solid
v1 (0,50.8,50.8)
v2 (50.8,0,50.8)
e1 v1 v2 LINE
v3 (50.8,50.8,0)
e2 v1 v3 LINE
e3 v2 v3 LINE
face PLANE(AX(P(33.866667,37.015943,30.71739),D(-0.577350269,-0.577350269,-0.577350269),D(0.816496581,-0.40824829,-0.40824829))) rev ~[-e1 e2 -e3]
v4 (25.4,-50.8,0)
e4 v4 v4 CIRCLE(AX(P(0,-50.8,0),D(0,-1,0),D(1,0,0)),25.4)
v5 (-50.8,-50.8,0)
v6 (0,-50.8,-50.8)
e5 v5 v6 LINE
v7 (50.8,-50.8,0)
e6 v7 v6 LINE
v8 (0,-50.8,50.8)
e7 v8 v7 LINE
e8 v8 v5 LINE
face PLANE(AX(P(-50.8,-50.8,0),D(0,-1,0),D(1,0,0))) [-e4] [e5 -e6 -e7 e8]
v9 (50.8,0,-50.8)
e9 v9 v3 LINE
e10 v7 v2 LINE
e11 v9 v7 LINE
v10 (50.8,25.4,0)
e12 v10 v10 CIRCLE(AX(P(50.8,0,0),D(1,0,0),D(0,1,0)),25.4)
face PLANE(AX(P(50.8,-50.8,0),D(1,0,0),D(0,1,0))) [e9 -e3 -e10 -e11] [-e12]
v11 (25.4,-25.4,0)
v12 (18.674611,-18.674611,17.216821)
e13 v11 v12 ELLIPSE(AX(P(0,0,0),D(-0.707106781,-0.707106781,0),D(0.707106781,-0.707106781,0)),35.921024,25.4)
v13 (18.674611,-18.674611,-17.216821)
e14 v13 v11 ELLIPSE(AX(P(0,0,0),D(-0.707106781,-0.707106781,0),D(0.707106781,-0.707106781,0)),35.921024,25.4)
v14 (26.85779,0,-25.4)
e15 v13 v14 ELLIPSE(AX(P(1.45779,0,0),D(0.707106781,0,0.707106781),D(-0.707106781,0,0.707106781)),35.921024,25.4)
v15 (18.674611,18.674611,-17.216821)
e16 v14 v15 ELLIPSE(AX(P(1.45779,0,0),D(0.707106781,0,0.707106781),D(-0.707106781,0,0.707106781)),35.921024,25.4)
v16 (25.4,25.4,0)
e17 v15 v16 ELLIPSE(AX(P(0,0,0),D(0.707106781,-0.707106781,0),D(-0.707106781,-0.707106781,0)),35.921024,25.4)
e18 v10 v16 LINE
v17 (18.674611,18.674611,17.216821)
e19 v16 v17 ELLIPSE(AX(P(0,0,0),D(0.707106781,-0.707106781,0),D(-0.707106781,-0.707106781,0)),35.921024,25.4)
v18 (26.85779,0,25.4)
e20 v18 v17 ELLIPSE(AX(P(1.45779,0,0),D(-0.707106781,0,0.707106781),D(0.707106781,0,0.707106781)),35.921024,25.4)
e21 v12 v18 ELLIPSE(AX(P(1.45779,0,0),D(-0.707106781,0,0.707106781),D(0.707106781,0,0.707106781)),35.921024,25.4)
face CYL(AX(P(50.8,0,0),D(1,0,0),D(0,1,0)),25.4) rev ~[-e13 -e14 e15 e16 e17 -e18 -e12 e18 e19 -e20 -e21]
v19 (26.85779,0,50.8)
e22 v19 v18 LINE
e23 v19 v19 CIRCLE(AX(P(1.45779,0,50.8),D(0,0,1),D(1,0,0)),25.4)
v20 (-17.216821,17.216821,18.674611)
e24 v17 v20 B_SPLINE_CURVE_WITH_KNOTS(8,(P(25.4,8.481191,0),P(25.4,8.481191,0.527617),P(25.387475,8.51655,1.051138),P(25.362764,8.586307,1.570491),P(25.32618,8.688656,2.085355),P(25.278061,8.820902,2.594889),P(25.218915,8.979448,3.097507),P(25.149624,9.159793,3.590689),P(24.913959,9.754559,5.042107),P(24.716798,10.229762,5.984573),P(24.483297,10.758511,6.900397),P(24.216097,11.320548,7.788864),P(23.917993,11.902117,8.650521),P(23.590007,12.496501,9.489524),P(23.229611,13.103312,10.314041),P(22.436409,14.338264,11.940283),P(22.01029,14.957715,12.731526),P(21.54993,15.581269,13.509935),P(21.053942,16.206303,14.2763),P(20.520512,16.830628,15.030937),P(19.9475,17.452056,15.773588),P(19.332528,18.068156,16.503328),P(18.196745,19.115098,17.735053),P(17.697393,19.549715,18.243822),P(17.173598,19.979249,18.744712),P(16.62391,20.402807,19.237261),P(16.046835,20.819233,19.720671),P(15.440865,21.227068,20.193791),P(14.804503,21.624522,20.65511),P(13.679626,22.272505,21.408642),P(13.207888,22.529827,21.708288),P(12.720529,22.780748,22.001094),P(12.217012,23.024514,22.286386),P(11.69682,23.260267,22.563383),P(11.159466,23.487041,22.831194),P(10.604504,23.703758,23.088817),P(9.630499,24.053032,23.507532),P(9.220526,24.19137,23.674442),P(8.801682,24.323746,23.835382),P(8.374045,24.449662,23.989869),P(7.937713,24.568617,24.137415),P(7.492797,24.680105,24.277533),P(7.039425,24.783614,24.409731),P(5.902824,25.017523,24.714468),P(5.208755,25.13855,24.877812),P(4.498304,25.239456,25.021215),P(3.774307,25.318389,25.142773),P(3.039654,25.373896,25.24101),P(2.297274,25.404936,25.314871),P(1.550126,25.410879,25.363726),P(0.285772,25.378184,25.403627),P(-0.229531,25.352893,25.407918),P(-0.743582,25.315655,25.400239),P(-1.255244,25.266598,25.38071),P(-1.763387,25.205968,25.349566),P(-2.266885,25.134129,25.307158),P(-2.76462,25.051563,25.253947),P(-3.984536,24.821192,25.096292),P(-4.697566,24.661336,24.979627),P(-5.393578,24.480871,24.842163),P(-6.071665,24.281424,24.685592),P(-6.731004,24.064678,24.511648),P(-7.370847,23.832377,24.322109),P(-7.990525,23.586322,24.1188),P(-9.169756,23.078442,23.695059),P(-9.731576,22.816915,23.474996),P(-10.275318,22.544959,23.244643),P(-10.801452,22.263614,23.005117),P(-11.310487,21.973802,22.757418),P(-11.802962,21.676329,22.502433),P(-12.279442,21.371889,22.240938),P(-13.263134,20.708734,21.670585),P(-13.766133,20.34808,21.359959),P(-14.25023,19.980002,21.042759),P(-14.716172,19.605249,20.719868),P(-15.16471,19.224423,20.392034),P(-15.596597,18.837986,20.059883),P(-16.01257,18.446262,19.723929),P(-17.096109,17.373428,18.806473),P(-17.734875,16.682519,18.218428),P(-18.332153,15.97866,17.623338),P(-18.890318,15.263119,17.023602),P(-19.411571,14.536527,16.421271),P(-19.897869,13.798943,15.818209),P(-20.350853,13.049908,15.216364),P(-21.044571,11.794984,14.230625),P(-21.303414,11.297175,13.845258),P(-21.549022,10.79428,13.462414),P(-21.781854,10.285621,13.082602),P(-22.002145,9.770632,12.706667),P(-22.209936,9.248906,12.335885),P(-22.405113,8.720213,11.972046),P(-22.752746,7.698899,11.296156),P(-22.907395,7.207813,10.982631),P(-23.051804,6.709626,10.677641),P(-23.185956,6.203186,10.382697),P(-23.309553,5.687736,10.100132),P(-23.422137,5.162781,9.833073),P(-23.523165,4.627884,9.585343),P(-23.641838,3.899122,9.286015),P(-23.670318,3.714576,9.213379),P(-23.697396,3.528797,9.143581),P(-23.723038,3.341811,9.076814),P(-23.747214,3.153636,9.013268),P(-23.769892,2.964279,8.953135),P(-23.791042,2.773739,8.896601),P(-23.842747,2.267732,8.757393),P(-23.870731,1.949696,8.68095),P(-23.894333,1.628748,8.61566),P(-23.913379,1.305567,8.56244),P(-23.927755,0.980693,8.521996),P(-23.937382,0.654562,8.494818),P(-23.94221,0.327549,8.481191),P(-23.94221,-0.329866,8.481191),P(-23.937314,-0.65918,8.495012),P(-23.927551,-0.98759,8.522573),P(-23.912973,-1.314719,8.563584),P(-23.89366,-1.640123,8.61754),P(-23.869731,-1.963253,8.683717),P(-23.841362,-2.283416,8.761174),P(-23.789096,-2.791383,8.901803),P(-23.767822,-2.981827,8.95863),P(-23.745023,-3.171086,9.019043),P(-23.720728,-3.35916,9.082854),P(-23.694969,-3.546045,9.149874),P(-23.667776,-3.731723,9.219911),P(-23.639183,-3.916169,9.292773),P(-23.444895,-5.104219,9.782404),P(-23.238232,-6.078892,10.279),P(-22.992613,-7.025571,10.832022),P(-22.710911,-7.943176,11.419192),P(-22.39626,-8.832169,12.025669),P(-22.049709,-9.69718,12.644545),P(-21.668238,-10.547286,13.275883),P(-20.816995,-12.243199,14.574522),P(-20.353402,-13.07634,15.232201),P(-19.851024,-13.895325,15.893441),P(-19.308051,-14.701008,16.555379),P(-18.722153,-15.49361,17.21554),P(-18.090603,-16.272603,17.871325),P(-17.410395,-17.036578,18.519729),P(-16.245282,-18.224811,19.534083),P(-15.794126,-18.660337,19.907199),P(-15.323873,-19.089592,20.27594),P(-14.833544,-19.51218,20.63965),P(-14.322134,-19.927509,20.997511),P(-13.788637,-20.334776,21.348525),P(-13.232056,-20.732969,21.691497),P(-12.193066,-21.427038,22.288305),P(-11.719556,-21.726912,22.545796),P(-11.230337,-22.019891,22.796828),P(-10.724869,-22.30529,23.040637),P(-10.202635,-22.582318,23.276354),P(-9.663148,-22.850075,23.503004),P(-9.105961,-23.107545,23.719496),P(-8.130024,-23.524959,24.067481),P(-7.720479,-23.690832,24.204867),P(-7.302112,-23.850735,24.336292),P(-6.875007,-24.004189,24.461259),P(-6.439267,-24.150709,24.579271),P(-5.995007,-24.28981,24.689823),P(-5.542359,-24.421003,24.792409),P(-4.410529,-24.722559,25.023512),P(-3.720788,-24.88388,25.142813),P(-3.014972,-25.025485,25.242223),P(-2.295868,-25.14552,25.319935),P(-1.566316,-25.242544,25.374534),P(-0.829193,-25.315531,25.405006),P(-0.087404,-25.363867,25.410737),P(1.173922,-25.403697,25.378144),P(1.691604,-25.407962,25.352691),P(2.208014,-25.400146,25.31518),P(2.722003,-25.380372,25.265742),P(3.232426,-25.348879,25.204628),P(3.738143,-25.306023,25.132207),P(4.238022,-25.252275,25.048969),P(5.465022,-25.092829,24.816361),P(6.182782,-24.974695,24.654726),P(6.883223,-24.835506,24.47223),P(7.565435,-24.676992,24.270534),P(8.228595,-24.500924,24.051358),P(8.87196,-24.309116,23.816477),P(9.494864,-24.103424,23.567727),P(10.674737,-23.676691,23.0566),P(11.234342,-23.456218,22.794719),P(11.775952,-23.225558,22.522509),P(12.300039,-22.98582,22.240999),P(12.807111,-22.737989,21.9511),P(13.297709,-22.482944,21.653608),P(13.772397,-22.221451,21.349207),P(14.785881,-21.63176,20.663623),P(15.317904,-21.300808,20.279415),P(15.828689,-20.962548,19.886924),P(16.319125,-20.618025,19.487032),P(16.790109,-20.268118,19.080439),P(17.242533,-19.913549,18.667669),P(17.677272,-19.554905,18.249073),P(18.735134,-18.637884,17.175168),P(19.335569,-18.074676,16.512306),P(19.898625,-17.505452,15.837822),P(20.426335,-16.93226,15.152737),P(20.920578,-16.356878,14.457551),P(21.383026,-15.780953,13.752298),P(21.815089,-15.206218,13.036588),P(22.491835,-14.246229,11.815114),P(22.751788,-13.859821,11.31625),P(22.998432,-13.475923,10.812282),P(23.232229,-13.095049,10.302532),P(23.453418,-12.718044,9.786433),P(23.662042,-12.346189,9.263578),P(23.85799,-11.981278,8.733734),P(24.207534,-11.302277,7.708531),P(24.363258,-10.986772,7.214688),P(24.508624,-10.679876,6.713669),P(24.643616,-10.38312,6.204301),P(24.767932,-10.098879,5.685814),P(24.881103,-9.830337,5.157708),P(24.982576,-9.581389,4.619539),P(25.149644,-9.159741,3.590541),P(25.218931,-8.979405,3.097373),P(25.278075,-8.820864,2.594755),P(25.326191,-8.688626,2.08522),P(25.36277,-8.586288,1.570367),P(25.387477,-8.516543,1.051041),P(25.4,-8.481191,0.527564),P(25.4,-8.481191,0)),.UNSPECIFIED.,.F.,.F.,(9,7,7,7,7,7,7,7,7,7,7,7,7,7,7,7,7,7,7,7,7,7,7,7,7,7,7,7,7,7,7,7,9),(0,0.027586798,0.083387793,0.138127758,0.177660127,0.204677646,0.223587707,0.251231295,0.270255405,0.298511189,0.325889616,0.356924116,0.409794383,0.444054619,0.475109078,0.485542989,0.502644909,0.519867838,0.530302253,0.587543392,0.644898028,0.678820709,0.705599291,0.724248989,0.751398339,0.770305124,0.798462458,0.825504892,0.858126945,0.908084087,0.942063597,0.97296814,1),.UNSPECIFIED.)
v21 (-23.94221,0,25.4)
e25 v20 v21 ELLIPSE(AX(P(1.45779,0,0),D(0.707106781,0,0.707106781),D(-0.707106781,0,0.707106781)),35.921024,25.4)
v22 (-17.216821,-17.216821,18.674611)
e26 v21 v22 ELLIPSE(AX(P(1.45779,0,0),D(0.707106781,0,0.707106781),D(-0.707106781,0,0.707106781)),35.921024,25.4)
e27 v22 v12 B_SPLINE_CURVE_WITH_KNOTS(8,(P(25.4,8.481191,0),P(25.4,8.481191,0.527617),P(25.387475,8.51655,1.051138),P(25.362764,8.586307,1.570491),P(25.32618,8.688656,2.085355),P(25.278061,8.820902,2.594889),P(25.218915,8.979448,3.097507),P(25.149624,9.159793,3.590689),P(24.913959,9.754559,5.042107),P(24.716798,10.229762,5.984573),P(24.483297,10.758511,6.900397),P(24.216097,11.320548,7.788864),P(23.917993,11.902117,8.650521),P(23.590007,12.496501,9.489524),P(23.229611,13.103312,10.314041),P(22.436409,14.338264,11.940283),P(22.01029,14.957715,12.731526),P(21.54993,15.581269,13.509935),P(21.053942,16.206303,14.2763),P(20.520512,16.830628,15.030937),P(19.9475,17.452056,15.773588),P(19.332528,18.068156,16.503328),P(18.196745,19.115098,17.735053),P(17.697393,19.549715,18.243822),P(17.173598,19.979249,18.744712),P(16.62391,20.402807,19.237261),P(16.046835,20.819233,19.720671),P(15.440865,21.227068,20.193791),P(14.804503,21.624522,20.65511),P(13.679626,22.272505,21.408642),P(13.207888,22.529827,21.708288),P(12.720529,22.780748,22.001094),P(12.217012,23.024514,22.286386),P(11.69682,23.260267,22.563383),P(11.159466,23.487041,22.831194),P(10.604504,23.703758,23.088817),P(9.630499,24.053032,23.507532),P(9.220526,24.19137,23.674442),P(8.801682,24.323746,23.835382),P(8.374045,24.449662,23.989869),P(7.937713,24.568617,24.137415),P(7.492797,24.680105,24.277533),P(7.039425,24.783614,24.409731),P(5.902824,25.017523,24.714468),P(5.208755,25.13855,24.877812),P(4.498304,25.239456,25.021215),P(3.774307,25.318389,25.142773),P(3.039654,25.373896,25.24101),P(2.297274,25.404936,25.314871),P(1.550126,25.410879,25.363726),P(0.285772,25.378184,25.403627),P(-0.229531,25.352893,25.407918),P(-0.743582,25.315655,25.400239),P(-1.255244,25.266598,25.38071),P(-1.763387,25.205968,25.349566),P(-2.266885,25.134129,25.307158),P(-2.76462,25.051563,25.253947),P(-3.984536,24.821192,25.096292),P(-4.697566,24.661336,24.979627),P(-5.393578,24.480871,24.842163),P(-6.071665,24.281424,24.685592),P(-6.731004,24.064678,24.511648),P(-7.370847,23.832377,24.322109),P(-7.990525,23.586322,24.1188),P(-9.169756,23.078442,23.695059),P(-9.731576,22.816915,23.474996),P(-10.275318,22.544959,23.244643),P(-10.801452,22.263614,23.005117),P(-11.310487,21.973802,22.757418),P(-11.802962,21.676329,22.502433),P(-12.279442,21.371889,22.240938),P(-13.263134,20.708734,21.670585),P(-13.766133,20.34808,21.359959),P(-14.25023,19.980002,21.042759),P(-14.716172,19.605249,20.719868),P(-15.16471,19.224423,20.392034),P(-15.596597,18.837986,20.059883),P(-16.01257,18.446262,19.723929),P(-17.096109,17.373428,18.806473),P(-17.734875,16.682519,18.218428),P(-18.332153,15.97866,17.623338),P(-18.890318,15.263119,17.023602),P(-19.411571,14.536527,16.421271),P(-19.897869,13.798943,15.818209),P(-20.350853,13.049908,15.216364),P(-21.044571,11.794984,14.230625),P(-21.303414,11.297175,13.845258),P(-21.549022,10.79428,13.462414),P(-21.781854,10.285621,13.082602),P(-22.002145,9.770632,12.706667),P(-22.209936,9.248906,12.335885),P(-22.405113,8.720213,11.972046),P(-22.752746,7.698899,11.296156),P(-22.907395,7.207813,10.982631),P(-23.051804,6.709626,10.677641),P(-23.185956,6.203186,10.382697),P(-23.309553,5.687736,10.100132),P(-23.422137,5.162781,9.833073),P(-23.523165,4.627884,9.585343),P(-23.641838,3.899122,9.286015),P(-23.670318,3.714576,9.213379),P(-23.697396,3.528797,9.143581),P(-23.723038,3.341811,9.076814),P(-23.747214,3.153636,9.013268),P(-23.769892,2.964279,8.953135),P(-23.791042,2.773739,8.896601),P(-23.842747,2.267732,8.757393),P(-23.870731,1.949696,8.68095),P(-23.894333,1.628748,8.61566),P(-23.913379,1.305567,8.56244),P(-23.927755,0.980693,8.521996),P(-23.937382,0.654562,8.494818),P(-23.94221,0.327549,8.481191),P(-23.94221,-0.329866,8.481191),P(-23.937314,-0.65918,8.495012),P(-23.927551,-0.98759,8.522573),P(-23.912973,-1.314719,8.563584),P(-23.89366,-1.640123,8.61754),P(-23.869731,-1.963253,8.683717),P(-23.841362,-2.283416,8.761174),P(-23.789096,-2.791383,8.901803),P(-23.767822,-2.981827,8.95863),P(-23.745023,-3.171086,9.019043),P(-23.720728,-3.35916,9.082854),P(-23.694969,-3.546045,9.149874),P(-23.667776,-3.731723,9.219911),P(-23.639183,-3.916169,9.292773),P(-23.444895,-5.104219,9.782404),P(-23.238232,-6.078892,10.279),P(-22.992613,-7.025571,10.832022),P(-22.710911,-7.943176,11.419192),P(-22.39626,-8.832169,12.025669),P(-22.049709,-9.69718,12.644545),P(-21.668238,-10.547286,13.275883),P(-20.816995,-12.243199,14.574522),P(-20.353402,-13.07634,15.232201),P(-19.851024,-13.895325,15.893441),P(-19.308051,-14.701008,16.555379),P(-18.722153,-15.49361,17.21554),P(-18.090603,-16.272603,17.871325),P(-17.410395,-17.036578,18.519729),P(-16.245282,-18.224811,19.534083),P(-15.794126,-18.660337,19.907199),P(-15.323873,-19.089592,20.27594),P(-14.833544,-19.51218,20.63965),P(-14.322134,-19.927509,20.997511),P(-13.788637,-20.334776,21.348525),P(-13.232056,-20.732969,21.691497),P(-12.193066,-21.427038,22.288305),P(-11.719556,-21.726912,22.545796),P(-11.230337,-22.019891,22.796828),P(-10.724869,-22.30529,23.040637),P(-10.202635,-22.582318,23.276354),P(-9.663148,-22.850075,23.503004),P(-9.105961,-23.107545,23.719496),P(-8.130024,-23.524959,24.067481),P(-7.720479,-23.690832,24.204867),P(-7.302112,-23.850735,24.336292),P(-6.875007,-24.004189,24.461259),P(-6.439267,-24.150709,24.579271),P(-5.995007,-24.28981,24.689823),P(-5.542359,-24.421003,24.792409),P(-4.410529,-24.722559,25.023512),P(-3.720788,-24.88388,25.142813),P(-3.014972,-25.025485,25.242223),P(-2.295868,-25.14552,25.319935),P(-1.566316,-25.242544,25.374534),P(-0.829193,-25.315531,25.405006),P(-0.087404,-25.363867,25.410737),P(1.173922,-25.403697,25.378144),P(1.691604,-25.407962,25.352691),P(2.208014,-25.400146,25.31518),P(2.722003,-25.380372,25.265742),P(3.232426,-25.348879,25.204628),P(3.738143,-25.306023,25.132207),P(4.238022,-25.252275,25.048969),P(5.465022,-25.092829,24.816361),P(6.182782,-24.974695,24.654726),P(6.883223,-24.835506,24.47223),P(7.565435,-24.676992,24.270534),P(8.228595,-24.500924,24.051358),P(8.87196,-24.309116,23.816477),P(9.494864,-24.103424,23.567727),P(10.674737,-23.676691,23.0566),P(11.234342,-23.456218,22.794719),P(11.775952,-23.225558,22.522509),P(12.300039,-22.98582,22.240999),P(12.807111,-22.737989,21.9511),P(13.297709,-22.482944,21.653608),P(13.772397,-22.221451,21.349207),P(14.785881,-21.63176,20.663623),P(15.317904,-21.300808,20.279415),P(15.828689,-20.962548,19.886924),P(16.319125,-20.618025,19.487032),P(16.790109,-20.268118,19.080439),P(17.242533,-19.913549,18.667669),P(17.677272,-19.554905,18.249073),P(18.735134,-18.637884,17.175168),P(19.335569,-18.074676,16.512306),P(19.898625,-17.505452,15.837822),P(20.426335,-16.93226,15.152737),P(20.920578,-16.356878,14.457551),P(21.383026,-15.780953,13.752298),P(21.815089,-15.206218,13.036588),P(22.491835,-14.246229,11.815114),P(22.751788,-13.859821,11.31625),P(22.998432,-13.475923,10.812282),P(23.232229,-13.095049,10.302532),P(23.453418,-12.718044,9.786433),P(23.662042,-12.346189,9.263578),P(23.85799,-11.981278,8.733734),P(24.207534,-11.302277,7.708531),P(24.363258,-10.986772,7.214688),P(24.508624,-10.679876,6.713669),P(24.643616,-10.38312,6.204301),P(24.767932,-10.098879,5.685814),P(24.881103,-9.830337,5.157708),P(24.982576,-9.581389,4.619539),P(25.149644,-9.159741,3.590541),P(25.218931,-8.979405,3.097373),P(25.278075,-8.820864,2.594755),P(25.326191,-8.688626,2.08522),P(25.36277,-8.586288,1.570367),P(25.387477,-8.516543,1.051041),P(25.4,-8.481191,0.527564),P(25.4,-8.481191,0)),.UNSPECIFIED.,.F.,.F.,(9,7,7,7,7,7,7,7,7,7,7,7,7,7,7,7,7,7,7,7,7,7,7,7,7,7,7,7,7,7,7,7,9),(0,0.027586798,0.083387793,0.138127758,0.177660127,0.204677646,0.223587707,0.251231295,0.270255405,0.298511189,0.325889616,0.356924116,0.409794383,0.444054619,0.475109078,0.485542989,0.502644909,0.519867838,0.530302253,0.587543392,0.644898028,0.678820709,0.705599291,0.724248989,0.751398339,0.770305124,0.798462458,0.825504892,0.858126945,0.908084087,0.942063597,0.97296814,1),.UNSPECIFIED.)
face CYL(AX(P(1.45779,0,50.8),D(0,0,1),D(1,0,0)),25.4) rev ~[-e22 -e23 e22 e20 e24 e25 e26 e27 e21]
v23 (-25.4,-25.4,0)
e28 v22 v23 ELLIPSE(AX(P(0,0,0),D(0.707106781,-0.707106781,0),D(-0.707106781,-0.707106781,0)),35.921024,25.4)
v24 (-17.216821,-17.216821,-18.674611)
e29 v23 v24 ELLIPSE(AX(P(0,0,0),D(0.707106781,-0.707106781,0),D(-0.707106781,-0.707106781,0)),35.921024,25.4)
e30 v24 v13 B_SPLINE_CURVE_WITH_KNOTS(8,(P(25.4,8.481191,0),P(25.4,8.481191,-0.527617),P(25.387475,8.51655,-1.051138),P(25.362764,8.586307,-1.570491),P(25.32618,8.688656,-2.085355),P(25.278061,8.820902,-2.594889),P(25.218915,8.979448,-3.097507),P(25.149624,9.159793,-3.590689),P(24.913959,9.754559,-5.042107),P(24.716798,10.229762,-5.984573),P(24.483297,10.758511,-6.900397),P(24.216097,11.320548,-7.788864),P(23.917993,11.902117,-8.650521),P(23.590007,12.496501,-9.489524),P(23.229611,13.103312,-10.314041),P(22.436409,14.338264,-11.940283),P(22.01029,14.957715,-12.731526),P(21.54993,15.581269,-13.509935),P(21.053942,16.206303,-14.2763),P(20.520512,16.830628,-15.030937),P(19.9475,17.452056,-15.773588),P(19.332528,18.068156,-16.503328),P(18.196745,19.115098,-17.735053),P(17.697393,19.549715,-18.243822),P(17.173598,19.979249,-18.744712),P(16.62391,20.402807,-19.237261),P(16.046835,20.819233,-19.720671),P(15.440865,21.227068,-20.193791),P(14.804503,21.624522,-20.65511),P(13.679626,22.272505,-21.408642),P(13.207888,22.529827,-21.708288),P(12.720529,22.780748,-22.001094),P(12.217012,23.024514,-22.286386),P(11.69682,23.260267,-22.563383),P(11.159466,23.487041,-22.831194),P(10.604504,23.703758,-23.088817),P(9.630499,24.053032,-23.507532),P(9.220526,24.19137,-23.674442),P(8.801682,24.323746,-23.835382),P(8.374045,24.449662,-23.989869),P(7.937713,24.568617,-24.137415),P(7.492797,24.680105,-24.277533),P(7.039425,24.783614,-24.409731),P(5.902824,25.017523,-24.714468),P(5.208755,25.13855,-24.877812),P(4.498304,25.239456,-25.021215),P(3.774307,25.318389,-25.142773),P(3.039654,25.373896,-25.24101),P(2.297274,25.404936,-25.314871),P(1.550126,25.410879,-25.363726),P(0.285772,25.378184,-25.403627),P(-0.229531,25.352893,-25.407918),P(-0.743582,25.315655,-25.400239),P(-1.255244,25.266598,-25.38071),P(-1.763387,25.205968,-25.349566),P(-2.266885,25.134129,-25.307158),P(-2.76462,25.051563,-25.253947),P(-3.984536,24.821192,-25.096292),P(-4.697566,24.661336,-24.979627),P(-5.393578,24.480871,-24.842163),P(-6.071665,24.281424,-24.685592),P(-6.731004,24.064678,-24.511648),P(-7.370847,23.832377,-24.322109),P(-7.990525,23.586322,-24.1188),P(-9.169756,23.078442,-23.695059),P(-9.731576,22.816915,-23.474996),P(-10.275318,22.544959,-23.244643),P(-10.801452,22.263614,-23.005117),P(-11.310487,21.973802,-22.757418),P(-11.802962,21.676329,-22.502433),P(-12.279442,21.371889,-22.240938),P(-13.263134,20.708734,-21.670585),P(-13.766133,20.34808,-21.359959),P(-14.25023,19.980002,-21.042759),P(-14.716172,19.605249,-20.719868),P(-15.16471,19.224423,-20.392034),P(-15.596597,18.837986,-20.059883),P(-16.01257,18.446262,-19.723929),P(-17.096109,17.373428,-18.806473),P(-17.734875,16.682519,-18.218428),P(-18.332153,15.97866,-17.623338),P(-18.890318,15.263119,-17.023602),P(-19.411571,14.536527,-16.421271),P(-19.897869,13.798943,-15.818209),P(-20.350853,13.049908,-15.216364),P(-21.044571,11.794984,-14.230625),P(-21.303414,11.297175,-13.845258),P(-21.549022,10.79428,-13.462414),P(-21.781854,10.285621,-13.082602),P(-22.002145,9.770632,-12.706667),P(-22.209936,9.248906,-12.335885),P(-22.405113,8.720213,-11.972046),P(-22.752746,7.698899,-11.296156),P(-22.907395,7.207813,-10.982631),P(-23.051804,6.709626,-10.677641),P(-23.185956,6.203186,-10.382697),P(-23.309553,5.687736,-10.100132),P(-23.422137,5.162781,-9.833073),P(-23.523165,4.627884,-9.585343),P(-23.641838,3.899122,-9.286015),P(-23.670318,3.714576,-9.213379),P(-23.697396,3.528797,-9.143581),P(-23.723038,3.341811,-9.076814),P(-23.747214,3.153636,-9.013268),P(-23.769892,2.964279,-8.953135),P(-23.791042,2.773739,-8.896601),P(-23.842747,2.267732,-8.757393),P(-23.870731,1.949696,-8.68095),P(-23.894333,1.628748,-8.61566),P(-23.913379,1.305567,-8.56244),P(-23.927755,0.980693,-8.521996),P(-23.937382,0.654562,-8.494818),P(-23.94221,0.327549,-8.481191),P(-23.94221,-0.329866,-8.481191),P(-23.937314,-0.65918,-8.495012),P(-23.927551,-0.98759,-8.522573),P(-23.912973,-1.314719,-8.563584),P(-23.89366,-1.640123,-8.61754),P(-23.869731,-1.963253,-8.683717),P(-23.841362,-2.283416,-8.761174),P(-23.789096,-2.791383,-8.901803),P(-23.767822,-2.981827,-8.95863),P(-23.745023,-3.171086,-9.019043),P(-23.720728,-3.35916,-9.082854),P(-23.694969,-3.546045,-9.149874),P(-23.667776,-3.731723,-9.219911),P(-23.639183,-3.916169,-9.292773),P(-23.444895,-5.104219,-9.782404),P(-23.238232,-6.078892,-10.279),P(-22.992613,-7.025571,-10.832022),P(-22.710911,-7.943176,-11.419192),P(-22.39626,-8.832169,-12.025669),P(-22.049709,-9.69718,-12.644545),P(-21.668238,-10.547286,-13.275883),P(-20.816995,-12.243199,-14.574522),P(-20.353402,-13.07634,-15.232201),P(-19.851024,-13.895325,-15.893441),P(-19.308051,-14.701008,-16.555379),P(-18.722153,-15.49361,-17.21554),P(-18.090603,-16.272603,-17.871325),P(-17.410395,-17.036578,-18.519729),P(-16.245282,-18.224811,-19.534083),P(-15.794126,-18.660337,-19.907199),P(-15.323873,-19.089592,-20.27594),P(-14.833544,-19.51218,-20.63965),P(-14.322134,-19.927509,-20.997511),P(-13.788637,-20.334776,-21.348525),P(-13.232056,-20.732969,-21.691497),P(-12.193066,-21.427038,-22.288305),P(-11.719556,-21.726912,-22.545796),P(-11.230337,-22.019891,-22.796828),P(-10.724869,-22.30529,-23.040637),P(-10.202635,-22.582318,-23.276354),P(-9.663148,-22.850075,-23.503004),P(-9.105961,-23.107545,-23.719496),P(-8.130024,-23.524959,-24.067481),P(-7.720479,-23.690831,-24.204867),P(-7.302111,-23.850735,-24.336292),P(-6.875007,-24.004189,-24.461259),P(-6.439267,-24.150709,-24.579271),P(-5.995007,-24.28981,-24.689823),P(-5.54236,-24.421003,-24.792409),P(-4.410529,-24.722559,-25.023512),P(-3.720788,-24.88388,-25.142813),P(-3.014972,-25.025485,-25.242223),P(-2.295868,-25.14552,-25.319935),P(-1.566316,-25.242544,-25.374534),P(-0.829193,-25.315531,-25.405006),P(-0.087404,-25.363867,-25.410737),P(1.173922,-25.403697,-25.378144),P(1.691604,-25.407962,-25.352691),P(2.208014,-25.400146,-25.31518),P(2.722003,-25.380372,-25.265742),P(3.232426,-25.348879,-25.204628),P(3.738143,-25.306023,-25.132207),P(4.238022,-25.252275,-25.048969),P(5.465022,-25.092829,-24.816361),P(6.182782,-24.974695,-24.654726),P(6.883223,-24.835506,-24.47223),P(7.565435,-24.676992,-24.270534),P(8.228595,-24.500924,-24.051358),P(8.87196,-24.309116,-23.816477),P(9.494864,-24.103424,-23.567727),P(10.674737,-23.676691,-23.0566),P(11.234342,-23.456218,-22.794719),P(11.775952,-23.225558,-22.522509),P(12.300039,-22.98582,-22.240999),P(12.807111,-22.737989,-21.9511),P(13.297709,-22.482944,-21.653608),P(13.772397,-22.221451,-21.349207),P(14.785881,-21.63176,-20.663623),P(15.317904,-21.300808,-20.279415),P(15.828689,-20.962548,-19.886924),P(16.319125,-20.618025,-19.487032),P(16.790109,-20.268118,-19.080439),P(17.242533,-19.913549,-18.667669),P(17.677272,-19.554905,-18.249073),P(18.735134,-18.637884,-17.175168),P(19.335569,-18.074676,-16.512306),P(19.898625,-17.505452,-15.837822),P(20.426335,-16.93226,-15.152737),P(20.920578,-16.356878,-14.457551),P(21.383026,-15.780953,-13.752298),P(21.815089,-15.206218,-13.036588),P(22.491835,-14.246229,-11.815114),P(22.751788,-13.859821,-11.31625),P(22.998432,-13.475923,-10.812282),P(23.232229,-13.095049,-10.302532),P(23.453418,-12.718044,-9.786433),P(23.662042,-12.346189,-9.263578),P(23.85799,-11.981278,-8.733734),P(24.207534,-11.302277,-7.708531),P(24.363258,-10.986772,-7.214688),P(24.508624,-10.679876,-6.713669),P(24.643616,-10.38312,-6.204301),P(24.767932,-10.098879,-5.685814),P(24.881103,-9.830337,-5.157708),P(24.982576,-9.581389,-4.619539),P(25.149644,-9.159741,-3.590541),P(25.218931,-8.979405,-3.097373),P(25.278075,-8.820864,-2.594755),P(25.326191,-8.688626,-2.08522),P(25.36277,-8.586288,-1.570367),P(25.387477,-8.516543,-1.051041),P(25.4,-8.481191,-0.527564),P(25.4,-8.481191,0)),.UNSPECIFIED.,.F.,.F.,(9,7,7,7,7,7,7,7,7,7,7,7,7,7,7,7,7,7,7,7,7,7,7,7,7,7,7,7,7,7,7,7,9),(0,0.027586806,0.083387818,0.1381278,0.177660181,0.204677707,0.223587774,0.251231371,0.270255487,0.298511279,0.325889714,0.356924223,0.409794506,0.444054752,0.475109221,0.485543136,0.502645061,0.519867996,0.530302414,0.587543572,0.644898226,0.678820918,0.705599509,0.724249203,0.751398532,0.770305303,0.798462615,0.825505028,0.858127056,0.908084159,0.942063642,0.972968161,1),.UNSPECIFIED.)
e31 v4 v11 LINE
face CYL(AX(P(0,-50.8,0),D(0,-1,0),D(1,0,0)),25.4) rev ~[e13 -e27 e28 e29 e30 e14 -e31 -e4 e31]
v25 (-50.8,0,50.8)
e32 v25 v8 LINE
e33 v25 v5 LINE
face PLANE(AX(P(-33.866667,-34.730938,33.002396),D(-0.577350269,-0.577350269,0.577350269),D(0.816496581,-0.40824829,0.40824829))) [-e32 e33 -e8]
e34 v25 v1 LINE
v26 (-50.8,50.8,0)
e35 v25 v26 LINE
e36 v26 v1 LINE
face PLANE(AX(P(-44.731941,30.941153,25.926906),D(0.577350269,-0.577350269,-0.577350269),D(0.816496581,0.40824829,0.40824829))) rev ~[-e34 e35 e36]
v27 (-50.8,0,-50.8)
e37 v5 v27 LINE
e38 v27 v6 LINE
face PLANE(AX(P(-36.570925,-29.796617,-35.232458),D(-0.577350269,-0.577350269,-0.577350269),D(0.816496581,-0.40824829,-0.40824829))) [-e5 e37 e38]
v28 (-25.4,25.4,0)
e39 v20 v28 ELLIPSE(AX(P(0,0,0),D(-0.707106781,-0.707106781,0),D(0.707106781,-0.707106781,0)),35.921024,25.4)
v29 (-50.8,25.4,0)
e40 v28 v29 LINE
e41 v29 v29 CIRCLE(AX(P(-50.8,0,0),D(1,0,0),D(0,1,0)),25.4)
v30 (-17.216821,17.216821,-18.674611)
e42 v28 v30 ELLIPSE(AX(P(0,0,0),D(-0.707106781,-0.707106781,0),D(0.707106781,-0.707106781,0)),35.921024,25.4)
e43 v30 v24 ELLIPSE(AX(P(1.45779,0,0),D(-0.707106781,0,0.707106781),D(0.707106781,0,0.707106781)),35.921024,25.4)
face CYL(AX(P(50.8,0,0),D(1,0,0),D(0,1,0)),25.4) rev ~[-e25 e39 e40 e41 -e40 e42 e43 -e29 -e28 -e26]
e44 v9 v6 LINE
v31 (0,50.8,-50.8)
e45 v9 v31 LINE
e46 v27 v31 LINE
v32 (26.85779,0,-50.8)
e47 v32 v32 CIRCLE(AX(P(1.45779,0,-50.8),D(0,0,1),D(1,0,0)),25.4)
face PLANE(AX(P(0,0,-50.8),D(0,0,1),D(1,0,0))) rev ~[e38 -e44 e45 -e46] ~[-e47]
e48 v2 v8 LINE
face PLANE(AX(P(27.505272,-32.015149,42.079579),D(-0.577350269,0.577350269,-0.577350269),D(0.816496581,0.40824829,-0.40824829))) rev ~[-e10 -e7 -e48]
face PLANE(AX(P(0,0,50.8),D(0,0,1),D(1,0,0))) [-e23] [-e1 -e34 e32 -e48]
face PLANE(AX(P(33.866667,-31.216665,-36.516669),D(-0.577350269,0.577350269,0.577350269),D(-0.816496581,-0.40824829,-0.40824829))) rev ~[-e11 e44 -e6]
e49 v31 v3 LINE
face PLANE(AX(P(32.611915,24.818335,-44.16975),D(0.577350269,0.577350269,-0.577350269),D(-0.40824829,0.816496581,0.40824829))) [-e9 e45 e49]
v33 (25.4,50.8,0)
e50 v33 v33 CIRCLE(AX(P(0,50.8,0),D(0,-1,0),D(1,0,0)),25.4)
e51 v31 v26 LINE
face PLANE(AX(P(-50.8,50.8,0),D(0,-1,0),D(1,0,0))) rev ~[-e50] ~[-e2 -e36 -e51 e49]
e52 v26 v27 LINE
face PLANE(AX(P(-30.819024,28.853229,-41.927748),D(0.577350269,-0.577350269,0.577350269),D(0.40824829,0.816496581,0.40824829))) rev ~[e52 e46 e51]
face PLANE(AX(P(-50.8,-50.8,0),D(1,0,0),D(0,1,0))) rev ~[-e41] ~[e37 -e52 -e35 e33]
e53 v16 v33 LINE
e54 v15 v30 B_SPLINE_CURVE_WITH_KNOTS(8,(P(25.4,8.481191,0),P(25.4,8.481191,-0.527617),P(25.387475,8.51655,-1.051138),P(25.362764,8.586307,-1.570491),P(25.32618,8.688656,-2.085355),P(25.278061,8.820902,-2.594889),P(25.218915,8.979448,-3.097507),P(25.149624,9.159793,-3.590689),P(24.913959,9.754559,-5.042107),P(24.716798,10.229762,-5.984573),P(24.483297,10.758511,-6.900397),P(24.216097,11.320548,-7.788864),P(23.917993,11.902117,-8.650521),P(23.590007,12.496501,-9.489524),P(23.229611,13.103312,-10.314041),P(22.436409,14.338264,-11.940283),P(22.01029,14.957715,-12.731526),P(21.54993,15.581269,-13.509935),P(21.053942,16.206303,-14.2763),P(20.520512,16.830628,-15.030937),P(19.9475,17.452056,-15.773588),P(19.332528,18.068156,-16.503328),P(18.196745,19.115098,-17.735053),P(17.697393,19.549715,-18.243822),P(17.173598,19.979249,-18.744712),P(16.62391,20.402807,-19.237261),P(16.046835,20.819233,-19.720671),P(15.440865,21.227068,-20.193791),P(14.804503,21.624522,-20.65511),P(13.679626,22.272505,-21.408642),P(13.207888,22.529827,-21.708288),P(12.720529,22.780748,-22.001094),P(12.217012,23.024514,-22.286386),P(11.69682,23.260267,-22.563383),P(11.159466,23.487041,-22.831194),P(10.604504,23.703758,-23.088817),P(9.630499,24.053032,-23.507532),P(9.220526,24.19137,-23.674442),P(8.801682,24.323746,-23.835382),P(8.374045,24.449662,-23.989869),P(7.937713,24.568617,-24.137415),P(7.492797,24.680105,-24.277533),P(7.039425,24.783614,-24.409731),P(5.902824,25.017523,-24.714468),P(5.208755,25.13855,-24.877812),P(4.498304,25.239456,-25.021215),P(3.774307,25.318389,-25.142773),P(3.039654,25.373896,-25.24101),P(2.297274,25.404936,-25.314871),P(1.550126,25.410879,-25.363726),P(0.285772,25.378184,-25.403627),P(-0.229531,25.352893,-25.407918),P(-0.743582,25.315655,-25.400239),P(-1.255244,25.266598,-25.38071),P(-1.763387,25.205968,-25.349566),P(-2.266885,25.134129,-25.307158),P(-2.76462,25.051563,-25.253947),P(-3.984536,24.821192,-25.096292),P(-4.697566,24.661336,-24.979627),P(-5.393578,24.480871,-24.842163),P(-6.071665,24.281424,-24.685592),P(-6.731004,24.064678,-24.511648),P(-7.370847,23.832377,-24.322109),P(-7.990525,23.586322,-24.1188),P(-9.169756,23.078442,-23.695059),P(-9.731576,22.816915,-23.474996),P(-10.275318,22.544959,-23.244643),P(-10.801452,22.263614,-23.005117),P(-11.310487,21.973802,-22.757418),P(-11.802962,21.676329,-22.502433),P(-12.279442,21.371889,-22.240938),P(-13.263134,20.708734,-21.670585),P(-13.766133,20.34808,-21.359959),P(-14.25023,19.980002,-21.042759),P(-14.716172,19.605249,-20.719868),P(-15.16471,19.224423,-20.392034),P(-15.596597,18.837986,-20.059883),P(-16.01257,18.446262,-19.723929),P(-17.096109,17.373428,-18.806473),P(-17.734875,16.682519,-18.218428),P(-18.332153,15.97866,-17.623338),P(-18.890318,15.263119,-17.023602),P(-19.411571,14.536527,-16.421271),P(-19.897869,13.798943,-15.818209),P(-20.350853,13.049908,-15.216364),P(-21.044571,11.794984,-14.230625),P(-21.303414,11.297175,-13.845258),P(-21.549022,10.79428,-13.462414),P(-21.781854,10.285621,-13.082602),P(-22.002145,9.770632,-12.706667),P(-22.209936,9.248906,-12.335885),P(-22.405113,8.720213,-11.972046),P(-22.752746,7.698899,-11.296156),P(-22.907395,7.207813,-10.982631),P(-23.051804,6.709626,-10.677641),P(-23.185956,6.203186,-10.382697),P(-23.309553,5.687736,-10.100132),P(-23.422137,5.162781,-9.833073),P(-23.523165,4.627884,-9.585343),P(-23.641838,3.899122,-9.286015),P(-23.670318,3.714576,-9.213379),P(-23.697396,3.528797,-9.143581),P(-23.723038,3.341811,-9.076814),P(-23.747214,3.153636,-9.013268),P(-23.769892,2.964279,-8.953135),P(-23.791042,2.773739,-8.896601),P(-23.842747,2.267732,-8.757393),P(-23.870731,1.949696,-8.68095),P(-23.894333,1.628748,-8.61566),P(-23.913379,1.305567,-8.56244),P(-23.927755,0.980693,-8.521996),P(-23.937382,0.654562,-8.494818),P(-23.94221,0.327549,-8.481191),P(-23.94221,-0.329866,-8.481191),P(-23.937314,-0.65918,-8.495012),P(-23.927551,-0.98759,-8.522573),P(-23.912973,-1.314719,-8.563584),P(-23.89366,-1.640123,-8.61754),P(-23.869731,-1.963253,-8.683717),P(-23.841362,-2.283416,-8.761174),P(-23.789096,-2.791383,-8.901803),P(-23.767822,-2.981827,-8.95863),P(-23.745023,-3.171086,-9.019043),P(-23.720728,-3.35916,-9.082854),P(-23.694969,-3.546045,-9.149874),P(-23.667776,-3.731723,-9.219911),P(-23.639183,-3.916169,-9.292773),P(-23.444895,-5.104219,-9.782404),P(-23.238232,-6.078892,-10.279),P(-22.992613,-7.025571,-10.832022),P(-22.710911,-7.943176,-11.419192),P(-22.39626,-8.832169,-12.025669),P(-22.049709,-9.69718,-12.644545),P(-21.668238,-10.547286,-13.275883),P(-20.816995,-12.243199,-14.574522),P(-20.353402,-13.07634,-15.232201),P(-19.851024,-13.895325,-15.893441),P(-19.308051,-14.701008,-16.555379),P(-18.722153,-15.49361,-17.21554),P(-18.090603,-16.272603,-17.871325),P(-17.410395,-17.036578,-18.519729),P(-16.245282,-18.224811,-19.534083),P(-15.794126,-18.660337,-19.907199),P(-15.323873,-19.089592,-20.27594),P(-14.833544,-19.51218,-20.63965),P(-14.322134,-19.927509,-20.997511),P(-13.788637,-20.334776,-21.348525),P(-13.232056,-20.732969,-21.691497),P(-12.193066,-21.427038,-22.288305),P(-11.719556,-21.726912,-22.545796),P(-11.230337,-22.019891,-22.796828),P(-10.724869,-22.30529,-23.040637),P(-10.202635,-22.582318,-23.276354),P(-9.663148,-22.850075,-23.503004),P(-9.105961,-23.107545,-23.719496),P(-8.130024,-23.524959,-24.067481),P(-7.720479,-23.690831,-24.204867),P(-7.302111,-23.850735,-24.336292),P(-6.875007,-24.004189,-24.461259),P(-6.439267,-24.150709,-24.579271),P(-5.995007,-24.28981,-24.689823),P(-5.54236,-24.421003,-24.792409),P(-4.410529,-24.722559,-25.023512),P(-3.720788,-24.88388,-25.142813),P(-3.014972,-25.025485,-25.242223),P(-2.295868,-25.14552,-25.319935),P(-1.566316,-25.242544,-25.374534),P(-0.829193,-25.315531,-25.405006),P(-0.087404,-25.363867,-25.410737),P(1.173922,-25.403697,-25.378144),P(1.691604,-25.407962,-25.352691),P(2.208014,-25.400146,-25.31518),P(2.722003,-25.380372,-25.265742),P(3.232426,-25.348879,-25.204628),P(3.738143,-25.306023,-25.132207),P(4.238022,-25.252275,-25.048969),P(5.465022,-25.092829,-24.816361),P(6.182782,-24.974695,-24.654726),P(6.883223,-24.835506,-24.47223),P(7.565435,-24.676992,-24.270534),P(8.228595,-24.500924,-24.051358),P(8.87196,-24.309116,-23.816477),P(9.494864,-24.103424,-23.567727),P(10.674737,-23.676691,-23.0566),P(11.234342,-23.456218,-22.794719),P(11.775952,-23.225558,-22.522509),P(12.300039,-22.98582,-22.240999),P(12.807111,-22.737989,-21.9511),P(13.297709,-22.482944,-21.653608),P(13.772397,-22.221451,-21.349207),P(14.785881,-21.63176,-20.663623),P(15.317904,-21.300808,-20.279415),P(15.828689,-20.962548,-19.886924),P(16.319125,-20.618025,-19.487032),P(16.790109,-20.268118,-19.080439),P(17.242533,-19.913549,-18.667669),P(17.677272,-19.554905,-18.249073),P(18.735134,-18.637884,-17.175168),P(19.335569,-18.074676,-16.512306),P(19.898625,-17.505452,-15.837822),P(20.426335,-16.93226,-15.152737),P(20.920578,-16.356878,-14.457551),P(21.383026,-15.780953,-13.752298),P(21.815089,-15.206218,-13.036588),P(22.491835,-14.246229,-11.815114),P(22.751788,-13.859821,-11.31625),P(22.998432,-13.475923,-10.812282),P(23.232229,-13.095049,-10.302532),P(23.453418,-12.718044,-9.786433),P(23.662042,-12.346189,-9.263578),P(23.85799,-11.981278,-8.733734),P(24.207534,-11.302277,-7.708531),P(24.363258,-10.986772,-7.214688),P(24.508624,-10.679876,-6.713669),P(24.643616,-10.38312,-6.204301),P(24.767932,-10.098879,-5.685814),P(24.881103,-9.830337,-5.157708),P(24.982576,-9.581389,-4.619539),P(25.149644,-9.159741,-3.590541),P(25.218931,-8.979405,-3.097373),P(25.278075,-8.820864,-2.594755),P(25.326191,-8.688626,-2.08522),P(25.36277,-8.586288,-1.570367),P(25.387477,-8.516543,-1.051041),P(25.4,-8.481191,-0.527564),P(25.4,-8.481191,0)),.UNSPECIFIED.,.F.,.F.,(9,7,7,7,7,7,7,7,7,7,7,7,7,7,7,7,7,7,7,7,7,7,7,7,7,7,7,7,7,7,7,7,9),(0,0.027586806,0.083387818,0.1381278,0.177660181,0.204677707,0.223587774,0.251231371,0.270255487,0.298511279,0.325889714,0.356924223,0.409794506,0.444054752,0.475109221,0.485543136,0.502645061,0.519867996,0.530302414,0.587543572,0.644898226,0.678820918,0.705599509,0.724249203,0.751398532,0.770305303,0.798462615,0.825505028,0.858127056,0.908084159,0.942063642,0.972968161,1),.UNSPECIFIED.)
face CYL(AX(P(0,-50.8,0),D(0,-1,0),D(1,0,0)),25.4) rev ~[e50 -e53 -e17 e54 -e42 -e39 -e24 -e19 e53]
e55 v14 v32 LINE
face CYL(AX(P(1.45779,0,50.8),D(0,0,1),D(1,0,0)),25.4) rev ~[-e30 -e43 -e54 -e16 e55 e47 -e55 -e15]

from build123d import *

# Parameters (mm, degrees)
F0_W      = 101.6
F0_H      = 101.6
F1_DEPTH  = 50.8
F6_W      = 98.9533215761
F6_H      = 109.5847634133
F7_DEPTH  = 29.3303936748
F9_R      = 55.4258032392
F10_DEPTH = 29.3303936748
F12_R     = 66.861305092
F13_DEPTH = 29.3303936748
F15_R     = 63.7455085669
F16_DEPTH = 29.3303936748
F21_R     = 117.7935216741
F22_DEPTH = 29.3303936748
F24_R     = 77.2031317043
F25_DEPTH = 29.3303936748
F27_R     = 77.6037163902
F28_DEPTH = 29.3303936748
F30_R     = 68.124609224
F31_DEPTH = 29.3303936748
F32_R     = 25.4
F33_DEPTH = 101.601
F34_R     = 25.4
F35_DEPTH = 101.601
F36_R     = 25.4
F37_DEPTH = 101.601


with BuildPart() as f1:
    # F0 (on Top) → F1 (new body, symmetric)
    with BuildSketch(Plane.XY):
        Rectangle(F0_W, F0_H)
    extrude(amount=F1_DEPTH, both=True)

    # F6 (on face) → F7 (cut, through all)
    with BuildSketch(Plane(origin=(-33.8666666667, -33.8666666667, 33.8666666667), x_dir=(0.8164965809, -0.4082482905, 0.4082482905), z_dir=(-0.5773502692, -0.5773502692, 0.5773502692))):
        with Locations((0, -1.2222639052)):
            Rectangle(F6_W, F6_H)
    extrude(amount=F7_DEPTH, mode=Mode.SUBTRACT)

    # F9 (on face) → F10 (cut, through all)
    with BuildSketch(Plane(origin=(33.8666666667, -33.8666666667, 33.8666666667), x_dir=(0.8164965809, 0.4082482905, -0.4082482905), z_dir=(-0.5773502692, 0.5773502692, -0.5773502692))):
        with Locations((-7.7910861, -7.1166269481)):
            Circle(F9_R)
    extrude(amount=-F10_DEPTH, mode=Mode.SUBTRACT)

    # F12 (on face) → F13 (cut, through all)
    with BuildSketch(Plane(origin=(-33.8666666667, 33.8666666667, 33.8666666667), x_dir=(0.8164965809, 0.4082482905, 0.4082482905), z_dir=(0.5773502692, -0.5773502692, -0.5773502692))):
        with Locations((-13.3071886376, -3.545607673)):
            Circle(F12_R)
    extrude(amount=-F13_DEPTH, mode=Mode.SUBTRACT)

    # F15 (on face) → F16 (cut, through all)
    with BuildSketch(Plane(origin=(-33.8666666667, -33.8666666667, -33.8666666667), x_dir=(0.8164965809, -0.4082482905, -0.4082482905), z_dir=(-0.5773502692, -0.5773502692, -0.5773502692))):
        with Locations((-3.3120266162, -3.843720071)):
            Circle(F15_R)
    extrude(amount=F16_DEPTH, mode=Mode.SUBTRACT)

    # F21 (on face) → F22 (cut, through all)
    with BuildSketch(Plane(origin=(33.8666666667, 33.8666666667, 33.8666666667), x_dir=(0.8164965809, -0.4082482905, -0.4082482905), z_dir=(-0.5773502692, -0.5773502692, -0.5773502692))):
        with Locations((0, -4.4537498616)):
            Circle(F21_R)
    extrude(amount=-F22_DEPTH, mode=Mode.SUBTRACT)

    # F24 (on face) → F25 (cut, through all)
    with BuildSketch(Plane(origin=(33.8666666667, 33.8666666667, -33.8666666667), x_dir=(-0.4082482905, 0.8164965809, 0.4082482905), z_dir=(0.5773502692, 0.5773502692, -0.5773502692))):
        with Locations((-11.0818976536, -8.1726238132)):
            Circle(F24_R)
    extrude(amount=F25_DEPTH, mode=Mode.SUBTRACT)

    # F27 (on face) → F28 (cut, through all)
    with BuildSketch(Plane(origin=(33.8666666667, -33.8666666667, -33.8666666667), x_dir=(-0.8164965809, -0.4082482905, -0.4082482905), z_dir=(-0.5773502692, 0.5773502692, 0.5773502692))):
        with Locations((0, -3.7476688158)):
            Circle(F27_R)
    extrude(amount=-F28_DEPTH, mode=Mode.SUBTRACT)

    # F30 (on face) → F31 (cut, through all)
    with BuildSketch(Plane(origin=(-33.8666666667, 33.8666666667, -33.8666666667), x_dir=(0.4082482905, 0.8164965809, 0.4082482905), z_dir=(0.5773502692, -0.5773502692, 0.5773502692))):
        with Locations((-6.1401822604, -7.8550539911)):
            Circle(F30_R)
    extrude(amount=-F31_DEPTH, mode=Mode.SUBTRACT)

    # F32 (on face) → F33 (cut, through all)
    with BuildSketch(Plane.XY.offset(50.8)):
        with Locations((1.4577903733, 0)):
            Circle(F32_R)
    extrude(amount=-F33_DEPTH, mode=Mode.SUBTRACT)

    # F34 (on face) → F35 (cut, through all)
    with BuildSketch(Plane.XZ.offset(50.8)):
        Circle(F34_R)
    extrude(amount=-F35_DEPTH, mode=Mode.SUBTRACT)

    # F36 (on face) → F37 (cut, through all)
    with BuildSketch(Plane.YZ.offset(50.8)):
        Circle(F36_R)
    extrude(amount=-F37_DEPTH, mode=Mode.SUBTRACT)


solid = f1.part
